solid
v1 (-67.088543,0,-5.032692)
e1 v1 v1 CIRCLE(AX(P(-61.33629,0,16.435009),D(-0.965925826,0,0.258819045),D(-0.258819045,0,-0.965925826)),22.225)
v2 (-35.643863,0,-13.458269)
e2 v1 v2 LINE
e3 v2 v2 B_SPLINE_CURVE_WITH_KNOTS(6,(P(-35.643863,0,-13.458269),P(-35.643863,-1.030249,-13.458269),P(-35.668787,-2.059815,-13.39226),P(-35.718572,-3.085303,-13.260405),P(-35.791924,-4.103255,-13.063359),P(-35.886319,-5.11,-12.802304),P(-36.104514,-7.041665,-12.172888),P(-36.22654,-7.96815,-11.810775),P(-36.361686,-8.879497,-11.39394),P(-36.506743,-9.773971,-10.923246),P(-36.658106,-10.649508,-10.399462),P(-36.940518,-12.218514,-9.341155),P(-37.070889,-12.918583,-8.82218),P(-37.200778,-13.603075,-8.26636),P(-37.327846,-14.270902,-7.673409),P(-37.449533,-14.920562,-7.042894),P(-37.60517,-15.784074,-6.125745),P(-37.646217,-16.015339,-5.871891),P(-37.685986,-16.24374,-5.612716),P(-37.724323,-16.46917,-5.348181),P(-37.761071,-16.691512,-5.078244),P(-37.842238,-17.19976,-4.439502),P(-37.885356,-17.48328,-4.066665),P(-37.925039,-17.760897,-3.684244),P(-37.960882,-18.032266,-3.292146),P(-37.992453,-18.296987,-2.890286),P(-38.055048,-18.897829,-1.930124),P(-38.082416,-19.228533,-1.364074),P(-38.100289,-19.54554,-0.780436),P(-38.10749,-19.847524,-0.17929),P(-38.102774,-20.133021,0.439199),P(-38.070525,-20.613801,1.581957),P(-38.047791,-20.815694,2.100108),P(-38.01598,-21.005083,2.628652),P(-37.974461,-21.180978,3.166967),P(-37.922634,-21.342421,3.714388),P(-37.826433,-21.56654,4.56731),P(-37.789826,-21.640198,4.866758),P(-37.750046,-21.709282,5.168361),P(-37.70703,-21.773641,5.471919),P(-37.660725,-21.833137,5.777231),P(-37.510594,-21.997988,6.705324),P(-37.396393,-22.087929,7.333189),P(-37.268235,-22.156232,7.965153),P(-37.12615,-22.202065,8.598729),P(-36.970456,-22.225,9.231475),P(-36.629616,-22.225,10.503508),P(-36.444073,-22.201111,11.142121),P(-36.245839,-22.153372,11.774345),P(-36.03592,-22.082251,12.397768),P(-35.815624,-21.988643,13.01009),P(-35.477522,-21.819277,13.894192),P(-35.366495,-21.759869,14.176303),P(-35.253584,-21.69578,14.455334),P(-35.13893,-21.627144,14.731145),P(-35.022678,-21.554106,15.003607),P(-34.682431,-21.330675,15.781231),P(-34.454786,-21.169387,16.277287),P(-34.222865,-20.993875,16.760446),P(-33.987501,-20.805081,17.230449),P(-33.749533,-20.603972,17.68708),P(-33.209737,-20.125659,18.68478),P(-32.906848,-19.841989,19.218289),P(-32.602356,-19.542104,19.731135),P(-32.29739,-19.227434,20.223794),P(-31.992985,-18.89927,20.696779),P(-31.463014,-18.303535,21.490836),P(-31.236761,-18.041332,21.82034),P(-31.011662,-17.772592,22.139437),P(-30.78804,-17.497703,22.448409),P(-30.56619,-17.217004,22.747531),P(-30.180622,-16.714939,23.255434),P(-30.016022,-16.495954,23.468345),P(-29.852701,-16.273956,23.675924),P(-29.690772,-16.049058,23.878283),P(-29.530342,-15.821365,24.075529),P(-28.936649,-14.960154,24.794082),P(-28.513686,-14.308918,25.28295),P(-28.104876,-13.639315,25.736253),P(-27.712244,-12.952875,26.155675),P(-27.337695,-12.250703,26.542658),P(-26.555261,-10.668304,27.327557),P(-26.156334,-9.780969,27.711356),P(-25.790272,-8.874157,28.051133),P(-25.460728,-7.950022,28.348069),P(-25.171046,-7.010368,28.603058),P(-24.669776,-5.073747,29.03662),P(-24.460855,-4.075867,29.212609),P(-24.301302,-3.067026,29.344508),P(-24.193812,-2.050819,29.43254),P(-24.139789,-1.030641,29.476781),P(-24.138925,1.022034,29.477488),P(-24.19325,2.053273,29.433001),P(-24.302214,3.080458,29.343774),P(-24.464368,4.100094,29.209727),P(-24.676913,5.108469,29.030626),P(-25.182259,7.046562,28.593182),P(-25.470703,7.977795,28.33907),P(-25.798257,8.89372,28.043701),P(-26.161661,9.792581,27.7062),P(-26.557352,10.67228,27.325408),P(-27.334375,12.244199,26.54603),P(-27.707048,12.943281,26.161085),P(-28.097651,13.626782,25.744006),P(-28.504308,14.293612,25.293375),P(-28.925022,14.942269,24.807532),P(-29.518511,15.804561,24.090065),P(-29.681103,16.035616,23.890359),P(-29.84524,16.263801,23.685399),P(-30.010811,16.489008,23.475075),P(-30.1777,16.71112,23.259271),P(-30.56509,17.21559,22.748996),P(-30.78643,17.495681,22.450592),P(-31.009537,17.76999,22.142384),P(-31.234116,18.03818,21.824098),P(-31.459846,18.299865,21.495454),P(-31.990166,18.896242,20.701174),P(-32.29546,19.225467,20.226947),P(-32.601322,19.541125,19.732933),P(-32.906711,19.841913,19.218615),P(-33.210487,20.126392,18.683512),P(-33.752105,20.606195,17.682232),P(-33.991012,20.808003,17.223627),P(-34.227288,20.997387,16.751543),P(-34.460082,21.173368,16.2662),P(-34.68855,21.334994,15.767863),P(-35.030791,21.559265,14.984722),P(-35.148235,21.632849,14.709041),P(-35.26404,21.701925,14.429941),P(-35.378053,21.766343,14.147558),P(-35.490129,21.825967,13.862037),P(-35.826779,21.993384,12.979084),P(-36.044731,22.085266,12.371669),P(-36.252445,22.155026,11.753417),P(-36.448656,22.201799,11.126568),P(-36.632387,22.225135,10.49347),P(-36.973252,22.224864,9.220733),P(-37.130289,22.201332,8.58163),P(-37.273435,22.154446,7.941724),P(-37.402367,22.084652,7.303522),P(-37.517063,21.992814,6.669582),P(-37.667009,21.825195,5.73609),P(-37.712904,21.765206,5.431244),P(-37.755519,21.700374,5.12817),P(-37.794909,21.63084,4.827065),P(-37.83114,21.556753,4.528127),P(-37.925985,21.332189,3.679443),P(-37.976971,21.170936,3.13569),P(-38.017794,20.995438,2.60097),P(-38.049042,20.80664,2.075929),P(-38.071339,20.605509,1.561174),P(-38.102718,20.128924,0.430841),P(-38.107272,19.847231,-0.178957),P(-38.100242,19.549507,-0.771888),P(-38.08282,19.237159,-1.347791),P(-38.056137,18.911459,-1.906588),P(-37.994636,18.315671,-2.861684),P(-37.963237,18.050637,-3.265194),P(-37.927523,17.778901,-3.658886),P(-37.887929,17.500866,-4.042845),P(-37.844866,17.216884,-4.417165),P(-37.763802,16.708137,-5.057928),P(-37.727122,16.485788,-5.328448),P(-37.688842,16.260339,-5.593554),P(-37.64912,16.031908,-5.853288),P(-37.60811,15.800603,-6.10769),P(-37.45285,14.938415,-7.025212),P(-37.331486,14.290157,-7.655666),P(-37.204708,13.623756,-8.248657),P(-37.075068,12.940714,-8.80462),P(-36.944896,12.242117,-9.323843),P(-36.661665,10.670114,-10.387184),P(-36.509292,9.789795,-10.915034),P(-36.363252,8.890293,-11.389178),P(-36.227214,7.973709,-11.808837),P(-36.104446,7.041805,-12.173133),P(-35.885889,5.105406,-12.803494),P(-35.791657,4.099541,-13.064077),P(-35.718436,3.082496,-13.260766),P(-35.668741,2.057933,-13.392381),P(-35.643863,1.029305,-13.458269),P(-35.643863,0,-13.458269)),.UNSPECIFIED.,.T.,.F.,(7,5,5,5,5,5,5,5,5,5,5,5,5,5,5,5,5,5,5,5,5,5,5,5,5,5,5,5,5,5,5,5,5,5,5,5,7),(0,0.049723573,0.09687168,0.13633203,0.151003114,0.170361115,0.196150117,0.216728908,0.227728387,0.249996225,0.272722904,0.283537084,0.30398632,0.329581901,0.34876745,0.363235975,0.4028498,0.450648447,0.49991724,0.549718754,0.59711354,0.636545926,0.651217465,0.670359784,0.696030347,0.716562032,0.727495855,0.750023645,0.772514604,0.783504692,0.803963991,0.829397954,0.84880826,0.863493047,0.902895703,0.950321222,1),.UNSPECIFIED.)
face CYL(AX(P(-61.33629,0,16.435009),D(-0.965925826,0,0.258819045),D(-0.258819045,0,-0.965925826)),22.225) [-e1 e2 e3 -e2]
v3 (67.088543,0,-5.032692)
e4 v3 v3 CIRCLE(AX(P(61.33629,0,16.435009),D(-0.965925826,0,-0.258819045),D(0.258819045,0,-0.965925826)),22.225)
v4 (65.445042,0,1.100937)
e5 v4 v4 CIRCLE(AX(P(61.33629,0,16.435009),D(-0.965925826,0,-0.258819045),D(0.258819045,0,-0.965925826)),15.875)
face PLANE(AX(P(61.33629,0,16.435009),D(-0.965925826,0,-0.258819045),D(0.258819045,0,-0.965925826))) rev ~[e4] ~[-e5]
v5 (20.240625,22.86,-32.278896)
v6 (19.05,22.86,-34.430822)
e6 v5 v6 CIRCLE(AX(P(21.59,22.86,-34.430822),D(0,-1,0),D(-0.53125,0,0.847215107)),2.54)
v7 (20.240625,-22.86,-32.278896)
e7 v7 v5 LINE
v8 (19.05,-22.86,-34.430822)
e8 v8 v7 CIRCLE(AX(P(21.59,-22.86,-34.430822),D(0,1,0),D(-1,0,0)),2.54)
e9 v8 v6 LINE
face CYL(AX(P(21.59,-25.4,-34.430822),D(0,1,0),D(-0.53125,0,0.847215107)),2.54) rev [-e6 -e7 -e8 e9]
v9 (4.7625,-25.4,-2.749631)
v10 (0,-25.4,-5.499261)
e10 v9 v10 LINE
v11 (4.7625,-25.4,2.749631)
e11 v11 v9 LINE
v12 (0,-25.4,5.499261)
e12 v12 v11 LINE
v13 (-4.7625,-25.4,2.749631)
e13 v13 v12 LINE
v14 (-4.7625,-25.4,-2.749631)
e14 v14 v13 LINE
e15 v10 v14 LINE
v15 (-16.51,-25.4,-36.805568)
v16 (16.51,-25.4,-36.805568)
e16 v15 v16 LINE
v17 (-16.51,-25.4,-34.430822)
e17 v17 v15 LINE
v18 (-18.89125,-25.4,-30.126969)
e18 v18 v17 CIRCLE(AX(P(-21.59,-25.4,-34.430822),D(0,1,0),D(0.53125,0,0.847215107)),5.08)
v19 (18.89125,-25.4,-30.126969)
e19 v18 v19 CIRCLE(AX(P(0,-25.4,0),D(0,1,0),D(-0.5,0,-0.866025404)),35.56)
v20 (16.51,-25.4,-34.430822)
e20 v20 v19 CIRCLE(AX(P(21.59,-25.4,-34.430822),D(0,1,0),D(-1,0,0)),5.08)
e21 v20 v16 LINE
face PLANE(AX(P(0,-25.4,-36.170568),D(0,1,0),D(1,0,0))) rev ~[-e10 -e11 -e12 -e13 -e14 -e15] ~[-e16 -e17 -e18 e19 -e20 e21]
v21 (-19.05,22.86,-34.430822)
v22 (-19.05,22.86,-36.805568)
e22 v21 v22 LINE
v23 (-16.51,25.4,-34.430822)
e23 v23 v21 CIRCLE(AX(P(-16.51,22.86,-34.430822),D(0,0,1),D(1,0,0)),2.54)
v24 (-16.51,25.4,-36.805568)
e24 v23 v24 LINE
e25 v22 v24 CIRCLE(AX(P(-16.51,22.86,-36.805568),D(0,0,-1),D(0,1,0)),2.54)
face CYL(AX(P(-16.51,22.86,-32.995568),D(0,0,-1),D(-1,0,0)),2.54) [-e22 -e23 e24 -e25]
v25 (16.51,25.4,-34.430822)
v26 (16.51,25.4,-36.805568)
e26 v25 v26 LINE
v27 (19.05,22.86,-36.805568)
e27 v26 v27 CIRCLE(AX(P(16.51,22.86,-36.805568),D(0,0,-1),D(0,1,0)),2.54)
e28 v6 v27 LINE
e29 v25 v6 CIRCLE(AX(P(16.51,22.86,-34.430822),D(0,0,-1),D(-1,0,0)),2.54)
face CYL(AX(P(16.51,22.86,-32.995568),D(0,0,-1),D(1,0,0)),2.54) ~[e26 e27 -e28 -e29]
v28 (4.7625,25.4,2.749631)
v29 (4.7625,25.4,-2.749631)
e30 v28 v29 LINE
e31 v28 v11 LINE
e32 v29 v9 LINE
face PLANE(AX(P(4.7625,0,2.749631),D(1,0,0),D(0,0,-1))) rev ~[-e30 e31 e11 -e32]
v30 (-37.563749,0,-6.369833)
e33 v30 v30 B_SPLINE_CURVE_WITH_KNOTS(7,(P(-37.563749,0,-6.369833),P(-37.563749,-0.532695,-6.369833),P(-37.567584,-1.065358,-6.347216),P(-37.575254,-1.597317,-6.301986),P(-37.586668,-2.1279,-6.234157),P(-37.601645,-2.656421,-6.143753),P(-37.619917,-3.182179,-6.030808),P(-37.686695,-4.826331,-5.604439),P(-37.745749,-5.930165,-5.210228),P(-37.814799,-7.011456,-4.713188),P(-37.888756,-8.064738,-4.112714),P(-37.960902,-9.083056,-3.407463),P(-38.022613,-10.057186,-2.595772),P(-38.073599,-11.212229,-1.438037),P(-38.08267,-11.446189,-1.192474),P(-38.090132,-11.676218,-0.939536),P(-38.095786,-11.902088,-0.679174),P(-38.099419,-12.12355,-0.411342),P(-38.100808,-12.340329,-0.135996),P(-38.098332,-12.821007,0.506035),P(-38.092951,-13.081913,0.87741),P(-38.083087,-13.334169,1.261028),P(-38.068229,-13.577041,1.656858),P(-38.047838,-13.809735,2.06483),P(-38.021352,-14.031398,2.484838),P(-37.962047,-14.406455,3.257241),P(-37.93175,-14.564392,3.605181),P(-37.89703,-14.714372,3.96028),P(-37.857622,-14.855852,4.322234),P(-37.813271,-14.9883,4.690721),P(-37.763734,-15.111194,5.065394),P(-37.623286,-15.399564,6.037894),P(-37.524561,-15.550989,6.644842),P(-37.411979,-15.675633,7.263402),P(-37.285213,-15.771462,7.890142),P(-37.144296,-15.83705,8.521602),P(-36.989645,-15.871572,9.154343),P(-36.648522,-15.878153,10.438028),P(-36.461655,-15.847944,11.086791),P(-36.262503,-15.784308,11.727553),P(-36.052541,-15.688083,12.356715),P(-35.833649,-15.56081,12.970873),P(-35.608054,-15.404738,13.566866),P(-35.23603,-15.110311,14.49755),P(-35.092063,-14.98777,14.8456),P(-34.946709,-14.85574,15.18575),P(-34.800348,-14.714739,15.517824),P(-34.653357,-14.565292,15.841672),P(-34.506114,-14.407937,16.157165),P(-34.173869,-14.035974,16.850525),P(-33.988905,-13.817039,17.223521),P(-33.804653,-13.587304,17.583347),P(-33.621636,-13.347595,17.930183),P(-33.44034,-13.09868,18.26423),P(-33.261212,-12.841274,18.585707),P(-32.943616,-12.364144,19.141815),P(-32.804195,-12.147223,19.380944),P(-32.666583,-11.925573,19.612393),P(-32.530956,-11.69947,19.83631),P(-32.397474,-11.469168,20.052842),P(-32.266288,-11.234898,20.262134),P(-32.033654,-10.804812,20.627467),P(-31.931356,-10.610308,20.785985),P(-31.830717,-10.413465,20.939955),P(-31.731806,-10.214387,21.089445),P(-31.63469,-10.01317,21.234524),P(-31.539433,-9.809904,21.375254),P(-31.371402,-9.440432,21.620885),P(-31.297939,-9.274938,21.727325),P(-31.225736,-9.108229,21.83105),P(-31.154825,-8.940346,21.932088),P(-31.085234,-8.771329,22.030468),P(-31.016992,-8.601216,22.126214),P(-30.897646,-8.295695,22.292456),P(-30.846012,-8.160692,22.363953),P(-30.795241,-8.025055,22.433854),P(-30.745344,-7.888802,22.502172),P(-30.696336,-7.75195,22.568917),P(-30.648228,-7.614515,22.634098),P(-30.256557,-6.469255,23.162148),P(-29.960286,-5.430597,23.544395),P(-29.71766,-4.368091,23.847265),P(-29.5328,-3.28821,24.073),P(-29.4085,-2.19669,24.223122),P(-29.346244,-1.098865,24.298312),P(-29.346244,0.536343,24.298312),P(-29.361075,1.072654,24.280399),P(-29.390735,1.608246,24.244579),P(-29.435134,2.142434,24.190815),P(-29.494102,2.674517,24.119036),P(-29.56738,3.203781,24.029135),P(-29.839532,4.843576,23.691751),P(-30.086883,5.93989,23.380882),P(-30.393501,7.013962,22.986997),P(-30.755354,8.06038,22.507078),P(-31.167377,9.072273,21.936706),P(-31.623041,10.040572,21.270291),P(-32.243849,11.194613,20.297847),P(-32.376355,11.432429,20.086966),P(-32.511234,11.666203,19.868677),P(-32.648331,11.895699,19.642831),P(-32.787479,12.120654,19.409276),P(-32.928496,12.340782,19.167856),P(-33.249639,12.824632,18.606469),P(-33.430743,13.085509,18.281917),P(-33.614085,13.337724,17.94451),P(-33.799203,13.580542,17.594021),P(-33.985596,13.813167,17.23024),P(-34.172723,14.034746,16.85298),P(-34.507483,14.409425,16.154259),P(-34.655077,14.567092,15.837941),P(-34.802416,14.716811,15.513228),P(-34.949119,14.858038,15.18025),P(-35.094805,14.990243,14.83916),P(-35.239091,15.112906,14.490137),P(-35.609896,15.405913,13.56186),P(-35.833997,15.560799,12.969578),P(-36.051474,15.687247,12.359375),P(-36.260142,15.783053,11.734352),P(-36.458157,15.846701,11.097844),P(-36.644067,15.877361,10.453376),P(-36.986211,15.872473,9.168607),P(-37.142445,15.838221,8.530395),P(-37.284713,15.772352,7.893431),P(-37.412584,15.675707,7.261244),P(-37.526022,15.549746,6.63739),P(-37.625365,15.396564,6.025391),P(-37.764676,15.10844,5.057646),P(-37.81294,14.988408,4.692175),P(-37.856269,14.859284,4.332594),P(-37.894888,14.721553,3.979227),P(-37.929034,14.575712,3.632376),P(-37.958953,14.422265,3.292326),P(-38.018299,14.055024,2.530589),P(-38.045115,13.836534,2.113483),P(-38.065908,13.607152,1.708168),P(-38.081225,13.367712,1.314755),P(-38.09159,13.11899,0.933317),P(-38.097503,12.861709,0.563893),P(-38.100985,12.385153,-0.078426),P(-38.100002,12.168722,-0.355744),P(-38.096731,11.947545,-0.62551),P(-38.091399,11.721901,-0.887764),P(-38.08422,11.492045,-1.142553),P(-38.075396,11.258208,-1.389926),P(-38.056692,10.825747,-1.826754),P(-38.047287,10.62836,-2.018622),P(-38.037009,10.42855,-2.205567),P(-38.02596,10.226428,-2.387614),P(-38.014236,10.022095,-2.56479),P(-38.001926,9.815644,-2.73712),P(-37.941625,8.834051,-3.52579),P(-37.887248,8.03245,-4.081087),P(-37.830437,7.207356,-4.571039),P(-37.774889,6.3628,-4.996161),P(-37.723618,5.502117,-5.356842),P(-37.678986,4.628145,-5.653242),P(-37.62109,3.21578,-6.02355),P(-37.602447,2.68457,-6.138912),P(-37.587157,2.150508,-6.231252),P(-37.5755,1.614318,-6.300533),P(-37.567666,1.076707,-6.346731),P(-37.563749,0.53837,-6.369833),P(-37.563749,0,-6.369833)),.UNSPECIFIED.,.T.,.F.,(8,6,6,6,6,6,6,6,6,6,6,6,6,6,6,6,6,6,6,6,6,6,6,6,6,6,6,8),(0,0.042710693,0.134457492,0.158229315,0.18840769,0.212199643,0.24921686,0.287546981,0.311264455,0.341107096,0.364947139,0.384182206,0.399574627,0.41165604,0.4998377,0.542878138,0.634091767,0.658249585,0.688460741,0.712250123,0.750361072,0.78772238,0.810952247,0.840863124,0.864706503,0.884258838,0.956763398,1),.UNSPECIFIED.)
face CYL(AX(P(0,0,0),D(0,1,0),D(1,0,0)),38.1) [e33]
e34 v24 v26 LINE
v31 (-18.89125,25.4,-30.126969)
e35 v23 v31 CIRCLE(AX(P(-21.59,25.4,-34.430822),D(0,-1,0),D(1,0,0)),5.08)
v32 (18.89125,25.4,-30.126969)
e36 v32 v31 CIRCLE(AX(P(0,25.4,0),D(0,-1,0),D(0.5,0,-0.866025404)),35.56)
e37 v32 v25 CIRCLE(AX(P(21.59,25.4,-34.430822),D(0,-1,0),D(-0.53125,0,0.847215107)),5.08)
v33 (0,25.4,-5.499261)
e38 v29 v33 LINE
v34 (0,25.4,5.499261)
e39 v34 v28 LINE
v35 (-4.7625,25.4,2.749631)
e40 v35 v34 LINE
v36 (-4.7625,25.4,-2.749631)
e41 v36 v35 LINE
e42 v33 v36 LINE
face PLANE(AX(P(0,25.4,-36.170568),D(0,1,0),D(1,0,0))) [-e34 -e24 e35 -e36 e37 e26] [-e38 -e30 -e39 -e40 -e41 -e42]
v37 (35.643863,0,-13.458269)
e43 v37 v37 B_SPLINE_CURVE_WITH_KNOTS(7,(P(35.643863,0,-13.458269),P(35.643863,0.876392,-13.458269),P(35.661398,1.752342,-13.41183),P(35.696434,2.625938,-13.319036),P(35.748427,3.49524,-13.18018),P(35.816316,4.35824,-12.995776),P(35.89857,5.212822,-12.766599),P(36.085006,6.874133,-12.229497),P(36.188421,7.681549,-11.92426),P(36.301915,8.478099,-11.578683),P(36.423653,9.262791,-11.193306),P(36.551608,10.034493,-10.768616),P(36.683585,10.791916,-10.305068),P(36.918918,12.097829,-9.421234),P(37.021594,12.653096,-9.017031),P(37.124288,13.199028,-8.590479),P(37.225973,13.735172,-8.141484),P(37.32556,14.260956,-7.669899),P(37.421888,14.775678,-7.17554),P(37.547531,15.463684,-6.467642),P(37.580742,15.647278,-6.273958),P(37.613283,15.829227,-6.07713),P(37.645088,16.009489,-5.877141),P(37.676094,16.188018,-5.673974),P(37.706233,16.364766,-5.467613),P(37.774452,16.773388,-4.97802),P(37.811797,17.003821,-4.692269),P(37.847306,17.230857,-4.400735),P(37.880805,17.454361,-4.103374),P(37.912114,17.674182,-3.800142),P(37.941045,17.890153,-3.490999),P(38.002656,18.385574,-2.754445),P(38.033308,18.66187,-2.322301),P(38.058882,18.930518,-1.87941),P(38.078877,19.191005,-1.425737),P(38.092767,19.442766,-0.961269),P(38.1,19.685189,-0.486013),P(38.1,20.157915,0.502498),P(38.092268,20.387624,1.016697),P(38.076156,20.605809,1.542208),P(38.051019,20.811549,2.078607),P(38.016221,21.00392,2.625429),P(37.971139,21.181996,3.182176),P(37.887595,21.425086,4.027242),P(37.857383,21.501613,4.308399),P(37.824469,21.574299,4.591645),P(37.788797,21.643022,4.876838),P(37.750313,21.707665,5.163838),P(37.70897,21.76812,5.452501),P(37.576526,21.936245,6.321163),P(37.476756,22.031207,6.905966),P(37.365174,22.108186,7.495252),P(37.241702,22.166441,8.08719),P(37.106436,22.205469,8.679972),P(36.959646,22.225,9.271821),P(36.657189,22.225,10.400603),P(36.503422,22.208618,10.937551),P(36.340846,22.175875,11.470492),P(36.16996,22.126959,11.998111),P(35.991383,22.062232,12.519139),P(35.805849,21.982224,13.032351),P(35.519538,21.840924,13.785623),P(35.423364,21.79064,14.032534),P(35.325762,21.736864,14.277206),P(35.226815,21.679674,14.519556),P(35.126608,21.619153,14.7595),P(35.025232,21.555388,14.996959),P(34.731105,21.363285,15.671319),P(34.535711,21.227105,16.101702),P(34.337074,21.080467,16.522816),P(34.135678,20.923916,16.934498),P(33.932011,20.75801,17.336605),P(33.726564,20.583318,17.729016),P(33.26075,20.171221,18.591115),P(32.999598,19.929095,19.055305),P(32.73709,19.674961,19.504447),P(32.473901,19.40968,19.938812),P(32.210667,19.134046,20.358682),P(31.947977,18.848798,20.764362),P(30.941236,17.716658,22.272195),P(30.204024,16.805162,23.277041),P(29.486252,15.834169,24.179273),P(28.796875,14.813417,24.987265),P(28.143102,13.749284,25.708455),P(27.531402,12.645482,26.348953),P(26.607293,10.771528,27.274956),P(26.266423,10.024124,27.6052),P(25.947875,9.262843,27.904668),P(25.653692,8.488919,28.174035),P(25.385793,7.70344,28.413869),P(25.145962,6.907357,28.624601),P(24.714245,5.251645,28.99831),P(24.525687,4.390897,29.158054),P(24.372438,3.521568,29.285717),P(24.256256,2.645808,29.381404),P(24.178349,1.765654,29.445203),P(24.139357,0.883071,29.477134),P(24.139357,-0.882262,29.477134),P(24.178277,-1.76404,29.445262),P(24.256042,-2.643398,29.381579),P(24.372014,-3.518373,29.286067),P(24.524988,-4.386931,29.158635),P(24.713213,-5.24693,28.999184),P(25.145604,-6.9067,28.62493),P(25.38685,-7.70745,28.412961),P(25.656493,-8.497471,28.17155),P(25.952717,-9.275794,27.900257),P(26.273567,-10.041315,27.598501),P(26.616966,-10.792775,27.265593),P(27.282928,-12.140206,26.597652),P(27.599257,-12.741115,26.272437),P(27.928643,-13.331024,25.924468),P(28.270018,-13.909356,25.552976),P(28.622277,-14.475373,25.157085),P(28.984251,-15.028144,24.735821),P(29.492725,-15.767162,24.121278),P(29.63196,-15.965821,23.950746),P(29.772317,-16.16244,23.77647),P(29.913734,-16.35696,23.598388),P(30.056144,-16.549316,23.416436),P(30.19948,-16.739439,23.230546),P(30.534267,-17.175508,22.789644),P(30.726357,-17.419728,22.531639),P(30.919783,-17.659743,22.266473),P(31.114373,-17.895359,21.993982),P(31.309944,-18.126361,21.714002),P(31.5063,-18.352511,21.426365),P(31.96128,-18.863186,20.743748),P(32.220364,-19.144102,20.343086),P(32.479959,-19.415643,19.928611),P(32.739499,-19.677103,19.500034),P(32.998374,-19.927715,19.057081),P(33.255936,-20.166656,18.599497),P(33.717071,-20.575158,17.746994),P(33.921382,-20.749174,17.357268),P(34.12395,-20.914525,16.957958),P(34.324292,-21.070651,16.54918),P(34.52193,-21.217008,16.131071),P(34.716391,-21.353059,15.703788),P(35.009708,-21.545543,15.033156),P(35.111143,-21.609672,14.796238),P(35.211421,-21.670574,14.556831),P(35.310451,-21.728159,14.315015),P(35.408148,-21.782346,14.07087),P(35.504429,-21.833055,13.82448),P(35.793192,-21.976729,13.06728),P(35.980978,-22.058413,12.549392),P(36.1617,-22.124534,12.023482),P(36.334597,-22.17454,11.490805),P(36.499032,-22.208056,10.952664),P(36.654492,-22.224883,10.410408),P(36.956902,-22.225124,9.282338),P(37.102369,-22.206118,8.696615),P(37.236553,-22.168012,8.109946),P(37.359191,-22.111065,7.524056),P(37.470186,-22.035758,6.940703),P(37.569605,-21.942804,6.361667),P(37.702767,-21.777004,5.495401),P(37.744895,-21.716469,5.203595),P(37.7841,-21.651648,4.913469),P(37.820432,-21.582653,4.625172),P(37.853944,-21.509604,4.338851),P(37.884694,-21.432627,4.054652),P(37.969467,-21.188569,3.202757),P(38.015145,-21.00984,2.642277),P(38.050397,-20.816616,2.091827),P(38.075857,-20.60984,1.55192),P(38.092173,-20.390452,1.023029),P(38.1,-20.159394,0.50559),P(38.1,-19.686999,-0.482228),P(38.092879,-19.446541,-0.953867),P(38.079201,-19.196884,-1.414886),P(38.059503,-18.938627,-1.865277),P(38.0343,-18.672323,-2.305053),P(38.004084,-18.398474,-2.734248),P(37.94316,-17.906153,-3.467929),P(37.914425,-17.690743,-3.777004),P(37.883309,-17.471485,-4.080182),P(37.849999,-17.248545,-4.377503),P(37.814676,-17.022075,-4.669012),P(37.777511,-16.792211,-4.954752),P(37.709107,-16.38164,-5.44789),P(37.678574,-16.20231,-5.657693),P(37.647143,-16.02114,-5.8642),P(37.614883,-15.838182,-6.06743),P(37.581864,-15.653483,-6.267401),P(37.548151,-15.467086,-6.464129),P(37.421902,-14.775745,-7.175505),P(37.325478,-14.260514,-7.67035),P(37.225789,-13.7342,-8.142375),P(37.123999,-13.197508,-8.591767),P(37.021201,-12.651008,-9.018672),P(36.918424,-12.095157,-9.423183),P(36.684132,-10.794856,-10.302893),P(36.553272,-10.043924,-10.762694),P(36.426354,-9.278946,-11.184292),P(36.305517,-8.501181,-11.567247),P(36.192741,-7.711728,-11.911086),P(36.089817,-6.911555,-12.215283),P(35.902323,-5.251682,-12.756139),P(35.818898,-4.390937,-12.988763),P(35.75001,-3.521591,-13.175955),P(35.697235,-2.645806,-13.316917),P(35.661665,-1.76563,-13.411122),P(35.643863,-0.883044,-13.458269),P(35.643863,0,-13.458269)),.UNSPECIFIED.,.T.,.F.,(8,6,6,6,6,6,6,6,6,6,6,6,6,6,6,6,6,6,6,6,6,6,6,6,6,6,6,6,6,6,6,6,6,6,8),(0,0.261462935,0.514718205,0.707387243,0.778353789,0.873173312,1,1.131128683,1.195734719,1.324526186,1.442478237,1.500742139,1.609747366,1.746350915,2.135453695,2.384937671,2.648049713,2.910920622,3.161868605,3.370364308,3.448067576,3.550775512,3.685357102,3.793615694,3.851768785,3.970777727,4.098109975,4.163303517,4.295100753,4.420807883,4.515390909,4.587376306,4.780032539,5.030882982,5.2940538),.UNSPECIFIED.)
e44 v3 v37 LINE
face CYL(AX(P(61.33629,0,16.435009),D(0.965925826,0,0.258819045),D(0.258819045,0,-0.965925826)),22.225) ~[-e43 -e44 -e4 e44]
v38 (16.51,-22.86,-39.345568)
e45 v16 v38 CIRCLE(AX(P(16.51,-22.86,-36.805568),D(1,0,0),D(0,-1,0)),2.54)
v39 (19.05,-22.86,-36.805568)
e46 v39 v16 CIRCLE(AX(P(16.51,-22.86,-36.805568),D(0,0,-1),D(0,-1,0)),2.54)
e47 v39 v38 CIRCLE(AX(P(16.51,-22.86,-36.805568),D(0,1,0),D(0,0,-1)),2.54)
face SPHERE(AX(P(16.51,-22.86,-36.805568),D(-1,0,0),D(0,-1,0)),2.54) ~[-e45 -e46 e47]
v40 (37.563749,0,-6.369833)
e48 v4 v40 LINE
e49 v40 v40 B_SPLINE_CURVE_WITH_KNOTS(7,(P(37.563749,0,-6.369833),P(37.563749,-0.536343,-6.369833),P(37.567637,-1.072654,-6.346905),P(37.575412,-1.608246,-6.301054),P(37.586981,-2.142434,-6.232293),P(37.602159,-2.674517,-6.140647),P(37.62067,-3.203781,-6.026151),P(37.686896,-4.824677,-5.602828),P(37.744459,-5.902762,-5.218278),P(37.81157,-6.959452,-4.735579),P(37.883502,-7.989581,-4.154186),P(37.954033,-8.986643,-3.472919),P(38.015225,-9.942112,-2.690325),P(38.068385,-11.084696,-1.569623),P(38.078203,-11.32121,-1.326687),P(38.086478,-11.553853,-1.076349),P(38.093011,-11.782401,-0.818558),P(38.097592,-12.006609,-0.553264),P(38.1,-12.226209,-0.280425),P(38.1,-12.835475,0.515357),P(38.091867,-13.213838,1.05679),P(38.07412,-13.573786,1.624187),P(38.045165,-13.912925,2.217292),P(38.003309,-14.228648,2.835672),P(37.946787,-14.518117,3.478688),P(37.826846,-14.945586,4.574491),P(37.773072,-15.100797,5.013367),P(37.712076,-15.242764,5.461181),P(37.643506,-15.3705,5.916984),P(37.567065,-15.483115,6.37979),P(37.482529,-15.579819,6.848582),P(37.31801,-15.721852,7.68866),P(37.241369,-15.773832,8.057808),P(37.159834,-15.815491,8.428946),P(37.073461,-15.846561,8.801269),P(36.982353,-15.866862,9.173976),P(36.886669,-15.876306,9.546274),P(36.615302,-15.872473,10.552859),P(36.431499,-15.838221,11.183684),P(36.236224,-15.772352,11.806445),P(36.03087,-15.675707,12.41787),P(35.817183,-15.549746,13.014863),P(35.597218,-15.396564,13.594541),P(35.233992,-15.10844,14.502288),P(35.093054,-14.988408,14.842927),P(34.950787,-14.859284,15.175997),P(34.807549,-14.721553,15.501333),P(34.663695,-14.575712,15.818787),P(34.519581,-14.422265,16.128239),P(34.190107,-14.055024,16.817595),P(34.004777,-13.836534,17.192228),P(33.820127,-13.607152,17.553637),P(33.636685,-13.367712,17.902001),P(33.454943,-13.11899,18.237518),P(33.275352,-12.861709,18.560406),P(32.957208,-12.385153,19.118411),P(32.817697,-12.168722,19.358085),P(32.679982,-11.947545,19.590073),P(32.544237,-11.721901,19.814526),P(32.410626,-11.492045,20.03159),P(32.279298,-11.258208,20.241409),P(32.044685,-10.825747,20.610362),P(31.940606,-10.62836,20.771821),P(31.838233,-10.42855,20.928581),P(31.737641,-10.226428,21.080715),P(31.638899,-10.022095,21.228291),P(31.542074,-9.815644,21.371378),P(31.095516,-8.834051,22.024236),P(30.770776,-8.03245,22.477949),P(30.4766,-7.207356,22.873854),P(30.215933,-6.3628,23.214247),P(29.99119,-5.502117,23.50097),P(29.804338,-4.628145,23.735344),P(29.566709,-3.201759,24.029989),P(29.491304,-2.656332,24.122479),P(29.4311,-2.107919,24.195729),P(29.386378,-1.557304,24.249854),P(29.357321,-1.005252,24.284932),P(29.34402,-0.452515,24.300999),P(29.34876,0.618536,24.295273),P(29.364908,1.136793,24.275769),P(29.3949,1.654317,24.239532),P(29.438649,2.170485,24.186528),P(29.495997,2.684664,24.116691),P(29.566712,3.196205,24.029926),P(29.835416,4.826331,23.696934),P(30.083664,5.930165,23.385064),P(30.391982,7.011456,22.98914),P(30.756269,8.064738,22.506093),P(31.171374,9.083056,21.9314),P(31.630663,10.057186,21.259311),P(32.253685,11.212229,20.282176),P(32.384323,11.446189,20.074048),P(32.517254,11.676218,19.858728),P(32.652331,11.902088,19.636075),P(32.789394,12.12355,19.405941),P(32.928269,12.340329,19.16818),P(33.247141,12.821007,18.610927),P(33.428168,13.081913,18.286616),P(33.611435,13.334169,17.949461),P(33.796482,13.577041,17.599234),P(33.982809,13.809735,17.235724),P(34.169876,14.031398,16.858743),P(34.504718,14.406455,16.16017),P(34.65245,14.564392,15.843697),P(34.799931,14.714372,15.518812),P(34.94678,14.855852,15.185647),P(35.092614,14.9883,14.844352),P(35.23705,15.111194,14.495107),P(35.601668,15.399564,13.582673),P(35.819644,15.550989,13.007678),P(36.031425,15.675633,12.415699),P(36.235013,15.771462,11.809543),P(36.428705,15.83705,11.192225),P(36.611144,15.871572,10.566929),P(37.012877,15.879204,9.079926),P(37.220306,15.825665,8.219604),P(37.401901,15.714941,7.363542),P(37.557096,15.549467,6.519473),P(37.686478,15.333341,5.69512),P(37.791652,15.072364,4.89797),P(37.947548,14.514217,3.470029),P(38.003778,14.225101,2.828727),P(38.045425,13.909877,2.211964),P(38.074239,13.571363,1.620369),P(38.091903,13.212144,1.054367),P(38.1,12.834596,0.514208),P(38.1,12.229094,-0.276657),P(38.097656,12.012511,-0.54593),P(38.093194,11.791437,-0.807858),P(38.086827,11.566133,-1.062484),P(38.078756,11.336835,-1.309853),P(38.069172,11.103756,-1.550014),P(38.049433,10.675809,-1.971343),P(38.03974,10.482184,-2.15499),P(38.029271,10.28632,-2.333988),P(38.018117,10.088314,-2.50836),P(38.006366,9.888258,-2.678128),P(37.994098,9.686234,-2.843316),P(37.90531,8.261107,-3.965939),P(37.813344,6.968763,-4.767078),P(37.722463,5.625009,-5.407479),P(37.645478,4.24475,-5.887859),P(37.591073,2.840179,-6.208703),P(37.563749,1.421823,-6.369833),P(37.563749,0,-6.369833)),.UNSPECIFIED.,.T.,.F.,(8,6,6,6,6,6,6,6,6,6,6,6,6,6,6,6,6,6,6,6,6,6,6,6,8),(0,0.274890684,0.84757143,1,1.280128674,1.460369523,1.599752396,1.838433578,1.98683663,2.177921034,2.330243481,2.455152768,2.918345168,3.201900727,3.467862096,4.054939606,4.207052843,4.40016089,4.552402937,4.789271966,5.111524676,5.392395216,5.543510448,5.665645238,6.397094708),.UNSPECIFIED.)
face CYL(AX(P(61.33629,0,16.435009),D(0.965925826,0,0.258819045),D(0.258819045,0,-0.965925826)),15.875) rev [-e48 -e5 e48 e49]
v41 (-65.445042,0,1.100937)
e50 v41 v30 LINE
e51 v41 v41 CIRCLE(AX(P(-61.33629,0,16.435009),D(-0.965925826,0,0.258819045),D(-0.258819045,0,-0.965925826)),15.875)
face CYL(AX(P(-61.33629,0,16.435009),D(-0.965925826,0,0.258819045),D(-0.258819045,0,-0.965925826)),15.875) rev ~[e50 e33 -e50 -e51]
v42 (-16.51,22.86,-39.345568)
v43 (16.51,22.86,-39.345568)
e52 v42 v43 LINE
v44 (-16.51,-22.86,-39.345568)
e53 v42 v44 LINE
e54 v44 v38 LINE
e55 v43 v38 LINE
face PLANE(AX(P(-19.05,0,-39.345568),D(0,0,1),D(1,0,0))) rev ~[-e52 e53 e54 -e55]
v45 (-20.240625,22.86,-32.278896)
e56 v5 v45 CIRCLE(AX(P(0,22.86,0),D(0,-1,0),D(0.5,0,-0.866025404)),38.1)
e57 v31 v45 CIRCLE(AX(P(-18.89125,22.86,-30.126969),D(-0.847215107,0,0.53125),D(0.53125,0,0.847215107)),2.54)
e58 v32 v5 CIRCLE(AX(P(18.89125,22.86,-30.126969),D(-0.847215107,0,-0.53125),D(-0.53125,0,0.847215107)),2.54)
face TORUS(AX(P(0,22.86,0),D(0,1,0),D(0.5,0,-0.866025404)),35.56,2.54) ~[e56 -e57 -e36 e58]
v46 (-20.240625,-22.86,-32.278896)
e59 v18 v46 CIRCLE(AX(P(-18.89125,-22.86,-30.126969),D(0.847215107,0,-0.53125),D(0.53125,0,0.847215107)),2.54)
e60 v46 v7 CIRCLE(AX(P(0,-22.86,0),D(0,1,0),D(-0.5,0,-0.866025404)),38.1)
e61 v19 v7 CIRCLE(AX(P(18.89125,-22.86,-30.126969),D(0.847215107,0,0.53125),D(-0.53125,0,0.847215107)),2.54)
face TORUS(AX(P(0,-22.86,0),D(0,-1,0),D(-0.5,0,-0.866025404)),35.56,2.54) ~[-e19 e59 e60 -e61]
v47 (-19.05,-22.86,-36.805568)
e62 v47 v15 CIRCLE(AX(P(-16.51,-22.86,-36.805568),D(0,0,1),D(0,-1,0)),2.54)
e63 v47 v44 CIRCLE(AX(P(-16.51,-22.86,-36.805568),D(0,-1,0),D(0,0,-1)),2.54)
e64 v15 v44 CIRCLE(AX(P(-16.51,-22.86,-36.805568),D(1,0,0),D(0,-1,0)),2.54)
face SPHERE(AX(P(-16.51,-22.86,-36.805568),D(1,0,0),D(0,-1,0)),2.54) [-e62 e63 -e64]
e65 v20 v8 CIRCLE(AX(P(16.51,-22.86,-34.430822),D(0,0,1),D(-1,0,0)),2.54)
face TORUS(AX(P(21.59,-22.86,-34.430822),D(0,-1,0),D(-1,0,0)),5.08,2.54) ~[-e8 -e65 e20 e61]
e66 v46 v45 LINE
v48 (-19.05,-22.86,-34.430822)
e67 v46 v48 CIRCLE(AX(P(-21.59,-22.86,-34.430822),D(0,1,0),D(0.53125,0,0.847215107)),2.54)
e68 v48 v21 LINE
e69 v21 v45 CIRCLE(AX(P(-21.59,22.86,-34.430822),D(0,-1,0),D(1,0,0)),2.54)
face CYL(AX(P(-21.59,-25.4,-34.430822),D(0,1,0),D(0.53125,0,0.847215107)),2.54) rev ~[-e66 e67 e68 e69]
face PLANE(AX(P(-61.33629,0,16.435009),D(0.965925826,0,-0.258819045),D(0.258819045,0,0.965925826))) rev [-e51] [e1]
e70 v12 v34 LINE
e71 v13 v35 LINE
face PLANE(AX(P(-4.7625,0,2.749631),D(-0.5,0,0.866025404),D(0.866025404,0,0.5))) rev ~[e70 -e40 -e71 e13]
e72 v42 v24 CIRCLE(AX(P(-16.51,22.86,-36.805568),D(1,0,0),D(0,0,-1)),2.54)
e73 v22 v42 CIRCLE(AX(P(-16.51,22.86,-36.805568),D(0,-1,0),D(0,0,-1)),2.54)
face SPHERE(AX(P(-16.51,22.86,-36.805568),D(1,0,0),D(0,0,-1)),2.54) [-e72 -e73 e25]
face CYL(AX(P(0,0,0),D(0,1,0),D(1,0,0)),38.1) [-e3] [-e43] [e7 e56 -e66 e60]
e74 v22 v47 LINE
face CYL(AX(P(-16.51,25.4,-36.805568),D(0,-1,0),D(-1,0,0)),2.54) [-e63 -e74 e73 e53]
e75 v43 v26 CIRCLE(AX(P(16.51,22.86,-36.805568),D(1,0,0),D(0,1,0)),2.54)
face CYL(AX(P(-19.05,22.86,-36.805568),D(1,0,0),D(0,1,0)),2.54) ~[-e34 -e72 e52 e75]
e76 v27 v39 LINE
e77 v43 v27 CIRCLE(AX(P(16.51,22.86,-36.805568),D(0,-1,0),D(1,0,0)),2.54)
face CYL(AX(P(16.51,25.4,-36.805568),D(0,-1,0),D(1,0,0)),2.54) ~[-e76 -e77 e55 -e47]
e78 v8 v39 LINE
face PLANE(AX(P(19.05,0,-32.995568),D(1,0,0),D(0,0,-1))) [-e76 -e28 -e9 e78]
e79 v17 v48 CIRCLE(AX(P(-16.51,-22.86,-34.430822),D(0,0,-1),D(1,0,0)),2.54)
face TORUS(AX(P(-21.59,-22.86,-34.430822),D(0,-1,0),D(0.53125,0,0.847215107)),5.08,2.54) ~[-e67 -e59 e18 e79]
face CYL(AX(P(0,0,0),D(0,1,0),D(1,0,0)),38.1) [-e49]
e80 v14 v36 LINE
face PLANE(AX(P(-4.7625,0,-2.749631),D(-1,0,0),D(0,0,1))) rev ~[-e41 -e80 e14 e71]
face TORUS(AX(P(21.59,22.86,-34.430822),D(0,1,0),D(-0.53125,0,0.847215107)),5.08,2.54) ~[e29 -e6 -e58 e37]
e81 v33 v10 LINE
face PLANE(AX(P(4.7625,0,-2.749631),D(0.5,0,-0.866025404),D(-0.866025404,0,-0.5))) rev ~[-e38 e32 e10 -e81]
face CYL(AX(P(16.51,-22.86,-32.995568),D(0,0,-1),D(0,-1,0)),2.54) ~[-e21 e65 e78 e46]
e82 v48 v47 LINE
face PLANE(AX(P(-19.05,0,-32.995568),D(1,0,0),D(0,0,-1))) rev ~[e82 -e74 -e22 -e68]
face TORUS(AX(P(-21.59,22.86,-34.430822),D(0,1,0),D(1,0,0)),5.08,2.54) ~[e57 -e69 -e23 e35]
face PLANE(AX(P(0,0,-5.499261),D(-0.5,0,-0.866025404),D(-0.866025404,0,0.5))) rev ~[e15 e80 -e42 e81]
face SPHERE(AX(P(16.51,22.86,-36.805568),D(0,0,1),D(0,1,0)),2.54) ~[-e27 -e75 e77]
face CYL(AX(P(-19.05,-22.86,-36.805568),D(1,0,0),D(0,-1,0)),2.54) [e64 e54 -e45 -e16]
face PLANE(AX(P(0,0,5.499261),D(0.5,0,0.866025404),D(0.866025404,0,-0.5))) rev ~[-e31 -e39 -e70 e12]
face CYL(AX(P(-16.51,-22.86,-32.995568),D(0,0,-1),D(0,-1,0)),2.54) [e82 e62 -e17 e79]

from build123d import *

# Parameters (mm, degrees)
SKETCH1_R           = 38.1
SKETCH1_W           = 38.1
SKETCH1_H           = 6.35
BOSS_EXTRUDE1_DEPTH = 25.4
BOSS_EXTRUDE2_START = -25.4
SKETCH3_R           = 22.225
SKETCH3_R_2         = 15.875
BOSS_EXTRUDE2_DEPTH = 33.655
FILLET1_R           = 2.54


with BuildPart() as part:
    # Sketch1 → Boss-Extrude1 (new, symmetric)
    # profile 1 of 2: a face of its own
    with BuildSketch(Plane(origin=(0, 0, 0), x_dir=(1, 0, 0), z_dir=(0, 1, 0))):
        Circle(SKETCH1_R)
        Polygon((0, -5.499261314), (4.7625, -2.749630657), (4.7625, 2.749630657), (0, 5.499261314), (-4.7625, 2.749630657), (-4.7625, -2.749630657), align=None, mode=Mode.SUBTRACT)
    # profile 2 of 2: a face of its own
    with BuildSketch(Plane(origin=(0, 0, 0), x_dir=(1, 0, 0), z_dir=(0, 1, 0))):
        with Locations((0, 36.170567884)):
            Rectangle(SKETCH1_W, SKETCH1_H)
    extrude(amount=BOSS_EXTRUDE1_DEPTH, both=True)

    # Sketch3 → Boss-Extrude2 (add)
    with BuildSketch(Plane(origin=(36.801773982, 0, 9.861005618), x_dir=(-0.2588190451025214, 0, 0.9659258262890681), z_dir=(-0.9659258262890681, 0, -0.2588190451025214)).offset(BOSS_EXTRUDE2_START)):
        with Locations(Location((0, 0, 0), (0, 0, 180))):
            Circle(SKETCH3_R)
        with Locations(Location((0, 0, 0), (0, 0, 180))):
            Circle(SKETCH3_R_2, mode=Mode.SUBTRACT)
    boss_extrude2 = extrude(amount=BOSS_EXTRUDE2_DEPTH)

    # Mirror1: Boss-Extrude2 across plane
    add(boss_extrude2.mirror(Plane(origin=(0, 0, 0), x_dir=(0, 0, 1), z_dir=(1, 0, 0))))

    # Fillet1
    fillet1_edges = [part.edges().sort_by_distance(p)[0] for p in [
        (19.05, 25.4, -36.170567884),
        (0, -25.4, -39.345567884),
        (19.05, -25.4, -36.170567884),
        (0, -25.4, 38.1),
        (-19.05, -25.4, -36.170567884),
        (0, 25.4, -39.345567884),
        (-19.05, 0, -39.345567884),
        (19.05, 0, -39.345567884),
        (19.05, 0, -32.995567884),
        (-19.05, 0, -32.995567884),
        (-19.05, 25.4, -36.170567884),
        (0, 25.4, 38.1),
    ]]
    fillet(fillet1_edges, radius=FILLET1_R)


solid = part.part
